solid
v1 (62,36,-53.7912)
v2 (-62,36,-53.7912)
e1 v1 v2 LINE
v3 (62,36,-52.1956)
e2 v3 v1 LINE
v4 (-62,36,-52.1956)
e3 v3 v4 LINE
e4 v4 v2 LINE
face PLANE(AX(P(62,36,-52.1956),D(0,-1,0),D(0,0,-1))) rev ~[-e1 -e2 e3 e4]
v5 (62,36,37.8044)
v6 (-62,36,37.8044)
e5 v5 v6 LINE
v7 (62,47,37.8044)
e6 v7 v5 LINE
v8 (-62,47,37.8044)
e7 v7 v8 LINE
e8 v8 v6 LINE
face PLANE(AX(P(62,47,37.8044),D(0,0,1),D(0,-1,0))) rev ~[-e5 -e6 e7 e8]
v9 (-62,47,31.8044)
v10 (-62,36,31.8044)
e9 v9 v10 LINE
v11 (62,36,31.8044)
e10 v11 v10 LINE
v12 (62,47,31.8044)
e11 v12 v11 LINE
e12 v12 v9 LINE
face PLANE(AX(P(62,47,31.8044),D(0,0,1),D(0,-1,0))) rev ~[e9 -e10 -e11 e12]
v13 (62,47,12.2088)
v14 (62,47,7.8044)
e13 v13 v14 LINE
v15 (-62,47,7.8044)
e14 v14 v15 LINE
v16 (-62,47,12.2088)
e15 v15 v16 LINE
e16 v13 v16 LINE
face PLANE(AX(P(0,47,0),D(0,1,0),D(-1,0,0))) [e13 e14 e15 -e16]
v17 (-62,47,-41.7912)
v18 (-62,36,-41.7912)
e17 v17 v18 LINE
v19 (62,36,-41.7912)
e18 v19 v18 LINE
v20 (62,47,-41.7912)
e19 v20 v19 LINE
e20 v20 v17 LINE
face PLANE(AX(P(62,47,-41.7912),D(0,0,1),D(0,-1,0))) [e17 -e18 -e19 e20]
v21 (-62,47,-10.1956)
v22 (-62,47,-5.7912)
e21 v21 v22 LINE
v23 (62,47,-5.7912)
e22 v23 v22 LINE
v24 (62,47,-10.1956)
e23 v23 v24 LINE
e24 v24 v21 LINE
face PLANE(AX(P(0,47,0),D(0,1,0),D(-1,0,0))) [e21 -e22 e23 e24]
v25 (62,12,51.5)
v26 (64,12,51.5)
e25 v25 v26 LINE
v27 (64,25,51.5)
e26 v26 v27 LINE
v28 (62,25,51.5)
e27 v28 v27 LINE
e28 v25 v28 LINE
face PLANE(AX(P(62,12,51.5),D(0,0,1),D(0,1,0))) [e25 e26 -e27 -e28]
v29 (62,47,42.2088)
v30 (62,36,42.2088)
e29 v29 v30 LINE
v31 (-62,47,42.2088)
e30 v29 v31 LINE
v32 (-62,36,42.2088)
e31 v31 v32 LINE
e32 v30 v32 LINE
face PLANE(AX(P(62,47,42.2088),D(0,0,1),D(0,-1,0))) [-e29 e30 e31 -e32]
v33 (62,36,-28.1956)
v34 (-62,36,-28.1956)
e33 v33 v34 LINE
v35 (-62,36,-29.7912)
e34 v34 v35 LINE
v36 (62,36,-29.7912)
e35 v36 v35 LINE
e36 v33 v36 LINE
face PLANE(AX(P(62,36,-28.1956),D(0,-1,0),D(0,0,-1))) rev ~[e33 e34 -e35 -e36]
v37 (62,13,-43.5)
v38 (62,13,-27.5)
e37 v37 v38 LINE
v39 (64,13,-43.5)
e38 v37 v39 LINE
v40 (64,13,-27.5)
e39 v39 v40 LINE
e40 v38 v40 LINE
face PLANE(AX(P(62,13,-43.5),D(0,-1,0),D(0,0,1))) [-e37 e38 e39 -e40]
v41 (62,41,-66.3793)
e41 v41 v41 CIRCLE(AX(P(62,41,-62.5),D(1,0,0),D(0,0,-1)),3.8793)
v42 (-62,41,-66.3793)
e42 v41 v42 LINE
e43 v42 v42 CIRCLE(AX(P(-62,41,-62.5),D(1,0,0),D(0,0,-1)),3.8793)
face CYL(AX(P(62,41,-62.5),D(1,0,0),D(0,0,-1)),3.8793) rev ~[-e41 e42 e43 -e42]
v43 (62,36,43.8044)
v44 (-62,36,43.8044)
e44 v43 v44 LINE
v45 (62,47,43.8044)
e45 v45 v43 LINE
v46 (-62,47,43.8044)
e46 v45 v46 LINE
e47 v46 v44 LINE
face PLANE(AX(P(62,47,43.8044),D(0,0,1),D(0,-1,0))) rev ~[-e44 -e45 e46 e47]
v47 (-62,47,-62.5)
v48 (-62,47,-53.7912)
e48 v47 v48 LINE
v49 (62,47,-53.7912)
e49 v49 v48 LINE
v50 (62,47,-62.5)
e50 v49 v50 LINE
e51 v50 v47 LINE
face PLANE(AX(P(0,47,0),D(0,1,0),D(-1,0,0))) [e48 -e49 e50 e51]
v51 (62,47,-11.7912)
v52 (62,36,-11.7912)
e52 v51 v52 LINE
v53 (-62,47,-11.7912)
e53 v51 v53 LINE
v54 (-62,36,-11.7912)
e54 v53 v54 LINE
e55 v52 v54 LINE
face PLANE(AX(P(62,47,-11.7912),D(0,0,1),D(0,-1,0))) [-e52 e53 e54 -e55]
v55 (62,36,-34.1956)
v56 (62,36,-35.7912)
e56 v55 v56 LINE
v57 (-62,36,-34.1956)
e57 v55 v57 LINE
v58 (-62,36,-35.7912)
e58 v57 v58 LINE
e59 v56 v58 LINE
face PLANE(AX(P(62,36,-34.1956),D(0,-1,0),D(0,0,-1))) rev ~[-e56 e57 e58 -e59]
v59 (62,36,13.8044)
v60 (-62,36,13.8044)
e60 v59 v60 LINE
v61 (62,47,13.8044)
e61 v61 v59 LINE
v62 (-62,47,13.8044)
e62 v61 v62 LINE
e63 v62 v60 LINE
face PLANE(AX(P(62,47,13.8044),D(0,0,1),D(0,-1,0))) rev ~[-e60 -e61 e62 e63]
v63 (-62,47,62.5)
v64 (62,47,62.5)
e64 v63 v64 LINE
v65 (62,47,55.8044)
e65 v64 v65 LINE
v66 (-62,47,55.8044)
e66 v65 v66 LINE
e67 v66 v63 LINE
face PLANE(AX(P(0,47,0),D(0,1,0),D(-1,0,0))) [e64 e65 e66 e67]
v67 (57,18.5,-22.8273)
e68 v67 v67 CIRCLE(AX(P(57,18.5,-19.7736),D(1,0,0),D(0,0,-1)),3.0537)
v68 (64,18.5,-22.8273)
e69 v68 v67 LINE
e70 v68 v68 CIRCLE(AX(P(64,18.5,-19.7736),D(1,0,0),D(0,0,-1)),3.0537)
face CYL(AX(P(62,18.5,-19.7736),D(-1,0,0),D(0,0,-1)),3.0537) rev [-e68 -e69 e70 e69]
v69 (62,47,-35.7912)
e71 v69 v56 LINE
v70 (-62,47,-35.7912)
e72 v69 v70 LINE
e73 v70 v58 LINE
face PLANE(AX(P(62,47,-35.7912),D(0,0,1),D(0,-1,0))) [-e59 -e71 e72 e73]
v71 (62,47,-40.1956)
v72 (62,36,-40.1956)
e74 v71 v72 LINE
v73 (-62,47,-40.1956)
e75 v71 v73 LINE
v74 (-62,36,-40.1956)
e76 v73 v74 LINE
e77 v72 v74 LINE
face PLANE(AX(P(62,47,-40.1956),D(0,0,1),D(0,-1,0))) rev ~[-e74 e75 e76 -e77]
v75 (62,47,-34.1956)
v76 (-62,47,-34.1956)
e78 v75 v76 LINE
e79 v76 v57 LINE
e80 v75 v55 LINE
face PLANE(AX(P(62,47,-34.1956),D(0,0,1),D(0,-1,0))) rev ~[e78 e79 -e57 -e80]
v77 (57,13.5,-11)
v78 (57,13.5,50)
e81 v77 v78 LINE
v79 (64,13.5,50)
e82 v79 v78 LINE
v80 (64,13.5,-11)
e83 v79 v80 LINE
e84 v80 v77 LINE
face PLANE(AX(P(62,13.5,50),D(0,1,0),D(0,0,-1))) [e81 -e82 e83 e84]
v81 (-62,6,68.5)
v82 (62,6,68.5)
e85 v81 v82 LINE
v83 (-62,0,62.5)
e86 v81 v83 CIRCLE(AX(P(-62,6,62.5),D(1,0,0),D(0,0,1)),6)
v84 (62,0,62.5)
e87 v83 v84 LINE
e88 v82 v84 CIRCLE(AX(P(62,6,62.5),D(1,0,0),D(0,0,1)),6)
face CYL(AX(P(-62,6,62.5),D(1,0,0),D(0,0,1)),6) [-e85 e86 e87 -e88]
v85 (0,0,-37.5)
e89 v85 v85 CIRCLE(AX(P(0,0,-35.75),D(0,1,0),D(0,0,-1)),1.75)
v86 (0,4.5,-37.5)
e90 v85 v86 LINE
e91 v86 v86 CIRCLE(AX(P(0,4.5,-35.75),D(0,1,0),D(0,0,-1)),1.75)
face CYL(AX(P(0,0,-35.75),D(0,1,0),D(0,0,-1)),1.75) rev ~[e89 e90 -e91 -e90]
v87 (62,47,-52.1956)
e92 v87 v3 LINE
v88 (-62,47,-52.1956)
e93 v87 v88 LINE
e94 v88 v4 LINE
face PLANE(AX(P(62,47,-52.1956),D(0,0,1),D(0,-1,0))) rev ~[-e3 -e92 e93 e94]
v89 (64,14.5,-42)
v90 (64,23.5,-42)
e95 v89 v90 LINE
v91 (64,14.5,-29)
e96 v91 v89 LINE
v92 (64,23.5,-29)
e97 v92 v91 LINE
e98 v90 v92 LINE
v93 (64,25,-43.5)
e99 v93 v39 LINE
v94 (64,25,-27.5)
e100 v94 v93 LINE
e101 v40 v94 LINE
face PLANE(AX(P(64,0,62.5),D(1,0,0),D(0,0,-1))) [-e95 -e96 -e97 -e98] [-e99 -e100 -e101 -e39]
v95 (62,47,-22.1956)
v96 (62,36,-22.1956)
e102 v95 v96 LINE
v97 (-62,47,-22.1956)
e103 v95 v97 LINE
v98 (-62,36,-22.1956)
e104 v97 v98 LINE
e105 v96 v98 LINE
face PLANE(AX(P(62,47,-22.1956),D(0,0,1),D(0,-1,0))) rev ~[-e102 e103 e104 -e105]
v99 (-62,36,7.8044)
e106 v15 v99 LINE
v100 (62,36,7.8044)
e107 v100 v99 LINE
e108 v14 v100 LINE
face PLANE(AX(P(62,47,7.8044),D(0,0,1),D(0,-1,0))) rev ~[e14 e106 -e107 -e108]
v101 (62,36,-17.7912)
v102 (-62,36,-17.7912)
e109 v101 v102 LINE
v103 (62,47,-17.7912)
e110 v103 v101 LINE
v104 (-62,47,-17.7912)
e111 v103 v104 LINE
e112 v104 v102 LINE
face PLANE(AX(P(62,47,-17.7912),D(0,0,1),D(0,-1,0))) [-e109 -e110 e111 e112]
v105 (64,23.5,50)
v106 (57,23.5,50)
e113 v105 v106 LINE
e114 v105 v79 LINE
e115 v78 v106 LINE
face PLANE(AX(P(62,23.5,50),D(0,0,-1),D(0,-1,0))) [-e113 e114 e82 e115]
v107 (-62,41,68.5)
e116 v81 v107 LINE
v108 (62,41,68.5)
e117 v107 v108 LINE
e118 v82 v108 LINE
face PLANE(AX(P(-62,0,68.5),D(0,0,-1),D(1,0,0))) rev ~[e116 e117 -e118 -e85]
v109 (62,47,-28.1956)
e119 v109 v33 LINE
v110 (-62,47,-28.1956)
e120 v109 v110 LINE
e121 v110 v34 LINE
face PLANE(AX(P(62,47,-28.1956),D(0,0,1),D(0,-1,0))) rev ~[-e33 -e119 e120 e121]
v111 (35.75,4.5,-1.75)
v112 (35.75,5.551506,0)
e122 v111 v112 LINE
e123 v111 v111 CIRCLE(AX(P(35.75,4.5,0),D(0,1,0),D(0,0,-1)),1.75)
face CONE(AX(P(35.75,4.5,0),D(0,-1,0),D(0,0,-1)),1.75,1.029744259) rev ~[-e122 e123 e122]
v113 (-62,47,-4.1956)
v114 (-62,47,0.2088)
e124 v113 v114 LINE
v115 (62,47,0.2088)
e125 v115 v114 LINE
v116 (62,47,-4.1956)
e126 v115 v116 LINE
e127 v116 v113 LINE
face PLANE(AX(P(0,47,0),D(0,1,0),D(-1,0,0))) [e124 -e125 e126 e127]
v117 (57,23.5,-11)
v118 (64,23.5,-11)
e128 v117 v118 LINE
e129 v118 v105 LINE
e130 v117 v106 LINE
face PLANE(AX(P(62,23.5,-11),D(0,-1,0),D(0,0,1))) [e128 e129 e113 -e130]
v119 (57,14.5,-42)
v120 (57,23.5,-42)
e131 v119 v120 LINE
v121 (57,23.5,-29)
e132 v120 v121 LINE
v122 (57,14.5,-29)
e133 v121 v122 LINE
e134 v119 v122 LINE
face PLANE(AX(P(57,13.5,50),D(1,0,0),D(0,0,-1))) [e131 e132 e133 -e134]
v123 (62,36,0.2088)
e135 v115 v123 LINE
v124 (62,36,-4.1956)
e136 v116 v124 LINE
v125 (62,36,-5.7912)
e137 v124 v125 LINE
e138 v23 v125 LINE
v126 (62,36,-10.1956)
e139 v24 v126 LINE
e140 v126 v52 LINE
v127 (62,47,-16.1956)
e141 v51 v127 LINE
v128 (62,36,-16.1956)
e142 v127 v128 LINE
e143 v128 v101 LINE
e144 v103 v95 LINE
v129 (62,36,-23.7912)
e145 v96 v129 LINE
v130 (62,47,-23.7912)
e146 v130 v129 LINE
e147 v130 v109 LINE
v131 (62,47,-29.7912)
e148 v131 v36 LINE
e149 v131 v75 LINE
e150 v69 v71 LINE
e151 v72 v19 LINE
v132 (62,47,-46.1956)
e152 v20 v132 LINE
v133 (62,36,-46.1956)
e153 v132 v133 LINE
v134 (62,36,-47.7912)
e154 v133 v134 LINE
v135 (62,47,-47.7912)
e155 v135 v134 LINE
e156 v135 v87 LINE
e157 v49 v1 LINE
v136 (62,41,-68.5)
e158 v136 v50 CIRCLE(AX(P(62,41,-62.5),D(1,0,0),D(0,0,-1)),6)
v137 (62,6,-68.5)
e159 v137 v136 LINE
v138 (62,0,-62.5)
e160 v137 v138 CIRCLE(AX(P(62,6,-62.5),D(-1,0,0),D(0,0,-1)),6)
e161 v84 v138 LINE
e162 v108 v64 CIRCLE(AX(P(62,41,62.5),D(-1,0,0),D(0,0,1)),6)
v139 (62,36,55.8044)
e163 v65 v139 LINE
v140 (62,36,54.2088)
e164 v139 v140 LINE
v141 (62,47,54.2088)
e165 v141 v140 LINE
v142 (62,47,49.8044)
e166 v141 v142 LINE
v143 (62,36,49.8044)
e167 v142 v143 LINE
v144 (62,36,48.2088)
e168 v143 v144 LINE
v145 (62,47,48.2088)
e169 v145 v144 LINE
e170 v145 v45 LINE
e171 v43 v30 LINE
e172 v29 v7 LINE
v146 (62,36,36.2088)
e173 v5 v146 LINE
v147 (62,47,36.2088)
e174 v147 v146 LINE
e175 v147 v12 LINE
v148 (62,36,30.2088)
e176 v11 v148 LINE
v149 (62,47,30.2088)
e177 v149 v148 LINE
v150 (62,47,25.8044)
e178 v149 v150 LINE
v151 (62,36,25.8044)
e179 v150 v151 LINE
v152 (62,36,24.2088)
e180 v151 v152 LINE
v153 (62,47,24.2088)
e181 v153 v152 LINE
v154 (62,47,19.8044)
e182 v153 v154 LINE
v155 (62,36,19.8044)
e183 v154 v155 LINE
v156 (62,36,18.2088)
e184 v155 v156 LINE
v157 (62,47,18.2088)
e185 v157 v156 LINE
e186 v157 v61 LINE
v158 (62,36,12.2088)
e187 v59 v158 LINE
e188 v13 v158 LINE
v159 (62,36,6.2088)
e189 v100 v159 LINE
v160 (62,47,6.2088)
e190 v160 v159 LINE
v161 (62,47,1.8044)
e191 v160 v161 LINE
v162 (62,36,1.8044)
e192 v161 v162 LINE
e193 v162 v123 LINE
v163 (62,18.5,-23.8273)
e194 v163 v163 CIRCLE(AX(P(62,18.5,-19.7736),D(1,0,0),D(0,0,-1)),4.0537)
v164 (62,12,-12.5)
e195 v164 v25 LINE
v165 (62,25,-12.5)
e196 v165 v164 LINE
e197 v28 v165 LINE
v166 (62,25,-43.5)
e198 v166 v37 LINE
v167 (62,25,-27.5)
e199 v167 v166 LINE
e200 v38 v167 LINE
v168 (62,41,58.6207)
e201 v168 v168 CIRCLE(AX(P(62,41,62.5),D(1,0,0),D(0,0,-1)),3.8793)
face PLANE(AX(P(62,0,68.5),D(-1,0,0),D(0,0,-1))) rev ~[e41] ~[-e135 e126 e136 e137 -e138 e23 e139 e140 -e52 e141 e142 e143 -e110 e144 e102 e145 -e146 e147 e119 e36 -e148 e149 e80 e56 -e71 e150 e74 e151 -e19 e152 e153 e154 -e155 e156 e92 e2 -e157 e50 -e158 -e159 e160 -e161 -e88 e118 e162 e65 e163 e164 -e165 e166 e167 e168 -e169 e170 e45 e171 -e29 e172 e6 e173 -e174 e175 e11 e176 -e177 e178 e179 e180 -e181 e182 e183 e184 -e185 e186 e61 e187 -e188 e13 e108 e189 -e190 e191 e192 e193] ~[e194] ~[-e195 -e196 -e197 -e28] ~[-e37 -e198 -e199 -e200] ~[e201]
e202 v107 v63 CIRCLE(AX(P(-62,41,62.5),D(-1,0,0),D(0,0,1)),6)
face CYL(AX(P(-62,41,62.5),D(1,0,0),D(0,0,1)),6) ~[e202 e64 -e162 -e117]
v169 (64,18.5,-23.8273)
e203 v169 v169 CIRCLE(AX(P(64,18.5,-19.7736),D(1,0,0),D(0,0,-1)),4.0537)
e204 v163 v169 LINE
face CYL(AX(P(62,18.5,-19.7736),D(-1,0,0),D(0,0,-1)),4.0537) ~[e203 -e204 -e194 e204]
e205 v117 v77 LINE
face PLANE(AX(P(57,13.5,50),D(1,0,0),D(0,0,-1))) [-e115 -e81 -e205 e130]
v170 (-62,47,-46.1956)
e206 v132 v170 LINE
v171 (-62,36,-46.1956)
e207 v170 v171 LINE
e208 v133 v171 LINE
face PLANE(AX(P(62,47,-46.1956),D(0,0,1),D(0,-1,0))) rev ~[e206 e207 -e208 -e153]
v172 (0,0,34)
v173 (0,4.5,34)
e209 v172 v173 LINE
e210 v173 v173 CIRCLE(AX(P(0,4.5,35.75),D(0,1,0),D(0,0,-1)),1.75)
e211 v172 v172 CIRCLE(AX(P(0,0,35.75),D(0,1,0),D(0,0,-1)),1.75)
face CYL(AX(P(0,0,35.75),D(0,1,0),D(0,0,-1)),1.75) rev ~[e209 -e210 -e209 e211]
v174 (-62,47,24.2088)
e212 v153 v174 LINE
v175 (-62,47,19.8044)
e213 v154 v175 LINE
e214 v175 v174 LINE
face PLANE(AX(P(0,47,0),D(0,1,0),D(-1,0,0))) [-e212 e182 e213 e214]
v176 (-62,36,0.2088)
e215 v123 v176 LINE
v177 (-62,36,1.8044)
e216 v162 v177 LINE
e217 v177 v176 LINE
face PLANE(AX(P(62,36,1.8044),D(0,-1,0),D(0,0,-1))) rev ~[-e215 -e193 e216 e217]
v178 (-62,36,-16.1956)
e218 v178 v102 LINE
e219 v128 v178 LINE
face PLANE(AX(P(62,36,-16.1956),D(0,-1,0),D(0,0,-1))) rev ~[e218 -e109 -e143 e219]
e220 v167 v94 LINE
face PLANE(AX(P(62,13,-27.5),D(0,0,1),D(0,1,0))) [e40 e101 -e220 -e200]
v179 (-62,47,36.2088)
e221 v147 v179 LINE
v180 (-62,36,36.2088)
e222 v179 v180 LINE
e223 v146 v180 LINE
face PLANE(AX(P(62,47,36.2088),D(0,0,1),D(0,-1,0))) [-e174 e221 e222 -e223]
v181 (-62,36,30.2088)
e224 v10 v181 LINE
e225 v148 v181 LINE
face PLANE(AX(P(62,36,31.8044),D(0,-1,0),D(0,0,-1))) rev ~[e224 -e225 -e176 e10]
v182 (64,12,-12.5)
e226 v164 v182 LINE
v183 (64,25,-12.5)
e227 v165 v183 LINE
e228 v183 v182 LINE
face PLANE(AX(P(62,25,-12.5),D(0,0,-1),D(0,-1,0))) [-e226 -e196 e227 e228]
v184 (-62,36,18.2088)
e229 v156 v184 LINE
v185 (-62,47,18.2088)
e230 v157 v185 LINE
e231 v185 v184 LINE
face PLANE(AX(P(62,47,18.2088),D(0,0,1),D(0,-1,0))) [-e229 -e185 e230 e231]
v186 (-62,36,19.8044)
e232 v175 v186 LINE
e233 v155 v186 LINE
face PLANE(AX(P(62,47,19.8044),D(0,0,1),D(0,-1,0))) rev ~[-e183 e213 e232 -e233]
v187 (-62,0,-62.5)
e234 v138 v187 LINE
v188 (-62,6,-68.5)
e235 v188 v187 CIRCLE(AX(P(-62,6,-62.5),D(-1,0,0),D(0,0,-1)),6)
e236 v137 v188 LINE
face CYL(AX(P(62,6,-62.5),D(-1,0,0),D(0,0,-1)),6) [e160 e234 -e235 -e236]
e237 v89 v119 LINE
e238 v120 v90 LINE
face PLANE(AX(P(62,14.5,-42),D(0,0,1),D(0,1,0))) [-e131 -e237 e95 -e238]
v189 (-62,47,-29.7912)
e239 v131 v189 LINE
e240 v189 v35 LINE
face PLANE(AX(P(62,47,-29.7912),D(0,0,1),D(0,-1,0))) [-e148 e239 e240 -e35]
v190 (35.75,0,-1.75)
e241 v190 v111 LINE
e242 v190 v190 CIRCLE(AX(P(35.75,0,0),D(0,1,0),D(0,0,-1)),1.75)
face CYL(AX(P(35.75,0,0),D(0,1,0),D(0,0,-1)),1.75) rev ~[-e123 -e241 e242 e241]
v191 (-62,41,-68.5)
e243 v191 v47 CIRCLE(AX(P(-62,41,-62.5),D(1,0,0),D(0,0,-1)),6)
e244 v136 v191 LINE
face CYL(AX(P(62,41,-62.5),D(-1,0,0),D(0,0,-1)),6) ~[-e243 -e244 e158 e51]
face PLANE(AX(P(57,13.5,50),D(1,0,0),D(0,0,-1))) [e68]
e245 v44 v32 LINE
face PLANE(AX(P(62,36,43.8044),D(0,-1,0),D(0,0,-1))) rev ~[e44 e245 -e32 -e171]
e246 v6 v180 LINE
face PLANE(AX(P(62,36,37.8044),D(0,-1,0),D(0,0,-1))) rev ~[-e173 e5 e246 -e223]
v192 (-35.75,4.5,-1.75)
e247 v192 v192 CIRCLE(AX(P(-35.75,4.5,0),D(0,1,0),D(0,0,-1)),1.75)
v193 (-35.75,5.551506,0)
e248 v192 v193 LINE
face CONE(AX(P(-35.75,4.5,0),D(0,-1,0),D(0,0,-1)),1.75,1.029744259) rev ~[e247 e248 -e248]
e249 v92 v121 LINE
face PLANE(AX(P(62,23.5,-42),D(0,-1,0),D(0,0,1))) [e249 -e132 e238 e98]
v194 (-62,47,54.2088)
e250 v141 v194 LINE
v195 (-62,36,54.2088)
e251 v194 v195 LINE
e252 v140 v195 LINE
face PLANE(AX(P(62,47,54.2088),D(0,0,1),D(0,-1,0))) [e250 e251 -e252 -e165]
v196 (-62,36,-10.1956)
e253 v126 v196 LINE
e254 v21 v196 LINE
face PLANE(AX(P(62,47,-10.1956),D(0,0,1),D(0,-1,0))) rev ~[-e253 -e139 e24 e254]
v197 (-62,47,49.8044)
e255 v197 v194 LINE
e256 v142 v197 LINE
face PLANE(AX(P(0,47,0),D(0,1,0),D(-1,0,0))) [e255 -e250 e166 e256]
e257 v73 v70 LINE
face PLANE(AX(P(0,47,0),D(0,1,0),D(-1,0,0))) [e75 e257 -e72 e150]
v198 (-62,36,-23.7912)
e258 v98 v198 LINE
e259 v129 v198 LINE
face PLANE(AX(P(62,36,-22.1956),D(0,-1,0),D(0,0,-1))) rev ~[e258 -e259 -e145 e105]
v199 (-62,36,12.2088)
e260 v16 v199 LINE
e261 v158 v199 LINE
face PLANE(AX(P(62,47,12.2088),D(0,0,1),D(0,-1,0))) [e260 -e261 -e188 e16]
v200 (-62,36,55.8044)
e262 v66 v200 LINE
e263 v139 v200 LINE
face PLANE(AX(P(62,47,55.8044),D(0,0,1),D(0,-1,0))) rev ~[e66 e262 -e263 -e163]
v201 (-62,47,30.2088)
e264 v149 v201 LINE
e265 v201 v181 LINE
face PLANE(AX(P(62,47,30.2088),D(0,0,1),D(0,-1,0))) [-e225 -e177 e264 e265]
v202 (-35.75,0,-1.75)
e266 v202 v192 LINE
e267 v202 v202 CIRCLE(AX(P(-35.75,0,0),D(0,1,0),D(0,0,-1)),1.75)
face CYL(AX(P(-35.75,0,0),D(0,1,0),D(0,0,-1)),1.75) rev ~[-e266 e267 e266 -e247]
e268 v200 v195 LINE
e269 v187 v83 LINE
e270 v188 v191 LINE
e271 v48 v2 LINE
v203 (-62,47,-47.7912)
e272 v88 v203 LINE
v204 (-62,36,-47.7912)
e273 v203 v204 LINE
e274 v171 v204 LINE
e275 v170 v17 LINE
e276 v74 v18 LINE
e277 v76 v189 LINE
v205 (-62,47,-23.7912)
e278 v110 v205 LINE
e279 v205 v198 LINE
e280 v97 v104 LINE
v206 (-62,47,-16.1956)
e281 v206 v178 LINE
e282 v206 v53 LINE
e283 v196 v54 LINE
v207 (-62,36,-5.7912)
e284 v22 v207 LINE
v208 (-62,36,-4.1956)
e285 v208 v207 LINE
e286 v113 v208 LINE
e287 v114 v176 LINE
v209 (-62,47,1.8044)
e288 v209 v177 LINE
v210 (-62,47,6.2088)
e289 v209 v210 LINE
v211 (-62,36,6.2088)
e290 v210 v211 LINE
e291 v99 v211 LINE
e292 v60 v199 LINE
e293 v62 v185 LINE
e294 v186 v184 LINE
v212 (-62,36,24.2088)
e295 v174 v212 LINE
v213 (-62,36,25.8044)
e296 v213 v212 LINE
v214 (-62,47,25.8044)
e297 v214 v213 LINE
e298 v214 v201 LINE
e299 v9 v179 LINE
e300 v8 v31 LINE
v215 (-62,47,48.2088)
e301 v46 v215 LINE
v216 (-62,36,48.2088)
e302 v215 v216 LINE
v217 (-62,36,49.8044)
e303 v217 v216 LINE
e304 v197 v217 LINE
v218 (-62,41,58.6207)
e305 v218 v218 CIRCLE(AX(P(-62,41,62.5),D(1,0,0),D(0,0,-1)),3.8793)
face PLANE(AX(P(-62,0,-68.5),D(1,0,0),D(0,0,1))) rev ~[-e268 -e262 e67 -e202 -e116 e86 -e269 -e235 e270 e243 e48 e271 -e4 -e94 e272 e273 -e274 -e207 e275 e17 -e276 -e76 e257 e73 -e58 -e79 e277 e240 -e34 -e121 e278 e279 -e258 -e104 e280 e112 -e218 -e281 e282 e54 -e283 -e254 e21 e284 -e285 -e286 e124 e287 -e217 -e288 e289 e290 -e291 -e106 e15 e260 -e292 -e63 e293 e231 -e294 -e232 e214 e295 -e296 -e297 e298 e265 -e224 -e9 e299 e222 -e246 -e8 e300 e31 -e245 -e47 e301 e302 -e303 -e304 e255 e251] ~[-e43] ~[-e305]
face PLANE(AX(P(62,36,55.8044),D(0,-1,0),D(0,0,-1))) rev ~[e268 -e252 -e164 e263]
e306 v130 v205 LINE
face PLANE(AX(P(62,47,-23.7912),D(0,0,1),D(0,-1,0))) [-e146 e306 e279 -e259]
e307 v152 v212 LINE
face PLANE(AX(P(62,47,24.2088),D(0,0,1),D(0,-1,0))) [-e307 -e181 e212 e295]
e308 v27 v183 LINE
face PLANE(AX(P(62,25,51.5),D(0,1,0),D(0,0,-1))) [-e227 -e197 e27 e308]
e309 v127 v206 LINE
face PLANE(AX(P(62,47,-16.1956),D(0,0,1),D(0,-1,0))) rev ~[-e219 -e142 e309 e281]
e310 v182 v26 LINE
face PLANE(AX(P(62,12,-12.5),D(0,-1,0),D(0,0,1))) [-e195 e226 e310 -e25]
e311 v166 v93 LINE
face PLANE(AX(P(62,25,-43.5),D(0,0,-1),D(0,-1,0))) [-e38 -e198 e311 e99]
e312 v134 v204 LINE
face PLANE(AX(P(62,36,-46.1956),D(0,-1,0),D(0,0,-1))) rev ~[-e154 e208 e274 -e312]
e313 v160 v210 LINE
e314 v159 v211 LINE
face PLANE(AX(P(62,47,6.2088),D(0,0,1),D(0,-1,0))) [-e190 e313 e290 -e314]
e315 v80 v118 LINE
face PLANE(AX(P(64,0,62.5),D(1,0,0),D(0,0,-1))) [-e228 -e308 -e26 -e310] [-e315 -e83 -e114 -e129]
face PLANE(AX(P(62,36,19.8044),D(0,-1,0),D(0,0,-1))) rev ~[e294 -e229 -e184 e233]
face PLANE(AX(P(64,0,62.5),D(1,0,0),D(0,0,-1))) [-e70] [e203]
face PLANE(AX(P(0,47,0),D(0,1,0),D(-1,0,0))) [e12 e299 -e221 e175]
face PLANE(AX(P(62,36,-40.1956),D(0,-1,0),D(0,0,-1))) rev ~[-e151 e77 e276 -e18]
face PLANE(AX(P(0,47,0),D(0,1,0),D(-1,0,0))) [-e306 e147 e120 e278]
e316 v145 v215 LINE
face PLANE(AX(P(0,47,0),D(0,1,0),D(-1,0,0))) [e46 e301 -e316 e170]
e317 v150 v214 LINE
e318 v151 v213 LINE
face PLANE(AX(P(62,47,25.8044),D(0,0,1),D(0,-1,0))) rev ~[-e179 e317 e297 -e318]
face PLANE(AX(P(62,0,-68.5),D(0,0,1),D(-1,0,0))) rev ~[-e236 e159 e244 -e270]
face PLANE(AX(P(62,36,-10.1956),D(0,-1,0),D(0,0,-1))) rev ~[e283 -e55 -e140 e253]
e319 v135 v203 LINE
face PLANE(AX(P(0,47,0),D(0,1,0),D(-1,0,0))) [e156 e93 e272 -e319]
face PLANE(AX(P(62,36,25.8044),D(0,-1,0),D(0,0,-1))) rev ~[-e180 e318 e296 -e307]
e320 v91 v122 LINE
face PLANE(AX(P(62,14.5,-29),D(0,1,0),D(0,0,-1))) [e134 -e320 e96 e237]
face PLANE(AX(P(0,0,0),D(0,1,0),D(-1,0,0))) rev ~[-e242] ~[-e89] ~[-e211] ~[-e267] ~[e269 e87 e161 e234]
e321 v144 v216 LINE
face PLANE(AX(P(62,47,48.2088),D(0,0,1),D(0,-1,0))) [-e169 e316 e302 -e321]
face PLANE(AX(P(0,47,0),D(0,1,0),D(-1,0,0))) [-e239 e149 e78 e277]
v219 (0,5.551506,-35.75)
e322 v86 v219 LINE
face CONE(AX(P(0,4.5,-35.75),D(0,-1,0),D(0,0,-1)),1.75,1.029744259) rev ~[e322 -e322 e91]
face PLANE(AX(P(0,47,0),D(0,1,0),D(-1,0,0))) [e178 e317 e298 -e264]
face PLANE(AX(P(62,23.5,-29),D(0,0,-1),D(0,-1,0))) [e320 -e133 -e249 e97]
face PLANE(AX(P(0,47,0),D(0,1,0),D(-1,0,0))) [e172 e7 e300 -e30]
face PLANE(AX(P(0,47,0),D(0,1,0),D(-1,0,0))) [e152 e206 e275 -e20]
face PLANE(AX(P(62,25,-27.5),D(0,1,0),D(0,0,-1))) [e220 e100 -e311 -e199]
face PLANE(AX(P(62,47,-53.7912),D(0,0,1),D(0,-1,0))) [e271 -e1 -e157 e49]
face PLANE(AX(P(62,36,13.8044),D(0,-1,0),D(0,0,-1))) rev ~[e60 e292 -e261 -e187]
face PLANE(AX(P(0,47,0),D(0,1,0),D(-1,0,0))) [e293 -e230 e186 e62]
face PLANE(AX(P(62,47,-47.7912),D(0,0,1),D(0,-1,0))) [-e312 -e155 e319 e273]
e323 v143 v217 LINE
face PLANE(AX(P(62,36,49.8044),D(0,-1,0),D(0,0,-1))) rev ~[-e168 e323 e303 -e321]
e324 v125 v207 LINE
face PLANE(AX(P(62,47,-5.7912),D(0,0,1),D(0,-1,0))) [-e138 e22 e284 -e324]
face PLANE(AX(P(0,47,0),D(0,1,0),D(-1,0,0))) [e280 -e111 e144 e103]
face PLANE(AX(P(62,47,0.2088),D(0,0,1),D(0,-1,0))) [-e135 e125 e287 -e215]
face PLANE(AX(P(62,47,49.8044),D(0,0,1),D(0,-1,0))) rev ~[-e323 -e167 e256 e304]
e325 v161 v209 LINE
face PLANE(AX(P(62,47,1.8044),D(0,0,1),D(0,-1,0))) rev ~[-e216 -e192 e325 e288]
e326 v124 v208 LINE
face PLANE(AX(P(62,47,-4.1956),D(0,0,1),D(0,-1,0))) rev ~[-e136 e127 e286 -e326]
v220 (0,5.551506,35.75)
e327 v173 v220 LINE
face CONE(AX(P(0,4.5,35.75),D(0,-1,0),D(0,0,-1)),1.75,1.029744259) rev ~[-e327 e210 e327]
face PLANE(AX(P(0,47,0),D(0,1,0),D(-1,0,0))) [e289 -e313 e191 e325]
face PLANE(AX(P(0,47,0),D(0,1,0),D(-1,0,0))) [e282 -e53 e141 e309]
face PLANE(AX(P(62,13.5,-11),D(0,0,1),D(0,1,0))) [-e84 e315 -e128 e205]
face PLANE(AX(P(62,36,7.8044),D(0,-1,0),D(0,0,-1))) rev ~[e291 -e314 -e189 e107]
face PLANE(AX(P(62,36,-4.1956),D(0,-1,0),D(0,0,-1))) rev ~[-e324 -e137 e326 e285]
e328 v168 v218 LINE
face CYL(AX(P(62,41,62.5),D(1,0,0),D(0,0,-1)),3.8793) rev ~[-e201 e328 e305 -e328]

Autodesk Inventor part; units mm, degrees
ref_plane "YZ Plane" through (0, 0, 0) normal (1, 0, 0) x (0, 1, 0)
ref_plane "XZ Plane" through (0, 0, 0) normal (0, 1, 0) x (-1, 0, 0)
ref_plane "XY Plane" through (0, 0, 0) normal (0, 0, 1) x (1, 0, 0)
sketch "Sketch1" plane through (0, 0, 0) normal (0, 1, 0) x (-1, 0, 0)
  line L0 (62, 68.5) -> (-62, 68.5)
  line L1 (-62, 68.5) -> (-62, -68.5)
  line L2 (-62, -68.5) -> (62, -68.5)
  line L3 (62, -68.5) -> (62, 68.5)
  point P0 (0, 0)
  point P1 (0, 68.5)
  point P2 (-62, 0)
  dimension "d0" = 137
  dimension "d1" = 124
extrude "Extrusion1" add sketch "Sketch1" along normal blind 47
fillet "Fillet1" radius 6 4 edges at (0, 47, 68.5) (0, 47, -68.5) (0, 0, -68.5) (0, 0, 68.5)
sketch "Sketch2" plane through (0, 0, 0) normal (0, -1, 0) x (1, 0, 0)
  line L0 (35.75, 0) -> (-35.75, 0) construction
  line L1 (0, 35.75) -> (0, -35.75) construction
  point P0 (0, 0)
  point P1 (0, 0)
  dimension "d5" = 71.5
  dimension "d6" = 71.5
hole "Hole1" at (-35.75, 0, 0) at (0, 0, 35.75) at (0, 0, -35.75) at (35.75, 0, 0) direction (0, 1, 0) diameter 3.5 depth 4.5 tip angle 118
sketch "Sketch3" plane through (62, 0, 62.5) normal (1, 0, 0) x (0, 0, -1)
  line L0 (11, 25) -> (75, 25)
  line L1 (75, 25) -> (75, 12)
  line L2 (75, 12) -> (11, 12)
  line L3 (11, 12) -> (11, 25)
  line L4 (0, 0) -> (125, 0) projected
  line L5 (-6, 6) -> (-6, 41) projected
  line L6 (131, 6) -> (131, 41) projected
  circle A0 centre (82.2736, 18.5) radius 4.0537
  line L7 (90, 25) -> (106, 25)
  line L8 (106, 25) -> (106, 13)
  line L9 (106, 13) -> (90, 13)
  line L10 (90, 13) -> (90, 25)
  line L11 (104.5, 23.5) -> (91.5, 23.5)
  line L12 (91.5, 23.5) -> (91.5, 14.5)
  line L13 (91.5, 14.5) -> (104.5, 14.5)
  line L14 (104.5, 14.5) -> (104.5, 23.5)
  line L15 (73.5, 23.5) -> (12.5, 23.5)
  line L16 (12.5, 23.5) -> (12.5, 13.5)
  line L17 (12.5, 13.5) -> (73.5, 13.5)
  line L18 (73.5, 13.5) -> (73.5, 23.5)
  circle A1 centre (82.2736, 18.5) radius 3.0537
  point P0 (62.5, 0)
  point P1 (98, 25)
  point P2 (43, 25)
  point P3 (90, 19)
  dimension "d14" = 12
  dimension "d15" = 17
  dimension "d16" = 64
  dimension "d17" = 13
  dimension "d19" = 12
  dimension "d20" = 16
  dimension "d21" = 25
  dimension "d25" = 1.5
  dimension "d26" = 1.5
  dimension "d27" = 1
extrude "Extrusion2" add sketch "Sketch3" along normal blind 2
sketch "Sketch4" plane through (62, 13.5, 50) normal (1, 0, 0) x (0, 0, -1)
  line L0 (61, 10) -> (0, 10) projected
  line L1 (61, 0) -> (0, 0) projected
  line L2 (0, 10) -> (61, 10)
  line L3 (61, 10) -> (61, 0)
  line L4 (61, 0) -> (0, 0)
  line L5 (0, 0) -> (0, 10)
  circle A0 centre (69.7736, 5) radius 3.0537 projected
  circle A1 centre (69.7736, 5) radius 3.0537
  line L6 (92, 1) -> (79, 1) projected
  line L7 (79, 1) -> (92, 1)
  line L8 (92, 1) -> (92, 10)
  line L9 (92, 10) -> (79, 10)
  line L10 (79, 10) -> (79, 1)
  point P0 (50, -13.5)
extrude "Extrusion3" cut sketch "Sketch4" against normal blind 5
sketch "Sketch5" plane through (62, 0, 62.5) normal (1, 0, 0) x (0, 0, -1)
  line L0 (-6, 6) -> (-6, 41) projected
  line L1 (-6, 36) -> (131, 36)
  line L2 (131, 6) -> (131, 41) projected
  line L3 (0, 0) -> (125, 0) projected
  arc A0 (0, 47) -> (-6, 41) centre (0, 41) ccw projected
  circle A1 centre (0, 41) radius 3.8793
  line L4 (125, 47) -> (0, 47) projected
  line L5 (6.6956, 47) -> (6.6956, 36)
  line L6 (8.2912, 47) -> (8.2912, 36)
  line L7 (0, 36) -> (137, 36)
  line L8 (12.6956, 47) -> (12.6956, 36)
  line L9 (14.2912, 47) -> (14.2912, 36)
  line L10 (6, 36) -> (143, 36)
  line L11 (18.6956, 47) -> (18.6956, 36)
  line L12 (20.2912, 47) -> (20.2912, 36)
  line L13 (12, 36) -> (149, 36)
  line L14 (24.6956, 47) -> (24.6956, 36)
  line L15 (26.2912, 47) -> (26.2912, 36)
  line L16 (18, 36) -> (155, 36)
  line L17 (30.6956, 47) -> (30.6956, 36)
  line L18 (32.2912, 47) -> (32.2912, 36)
  line L19 (24, 36) -> (161, 36)
  line L20 (36.6956, 47) -> (36.6956, 36)
  line L21 (38.2912, 47) -> (38.2912, 36)
  line L22 (30, 36) -> (167, 36)
  line L23 (42.6956, 47) -> (42.6956, 36)
  line L24 (44.2912, 47) -> (44.2912, 36)
  line L25 (36, 36) -> (173, 36)
  line L26 (48.6956, 47) -> (48.6956, 36)
  line L27 (50.2912, 47) -> (50.2912, 36)
  line L28 (42, 36) -> (179, 36)
  line L29 (54.6956, 47) -> (54.6956, 36)
  line L30 (56.2912, 47) -> (56.2912, 36)
  line L31 (48, 36) -> (185, 36)
  line L32 (60.6956, 47) -> (60.6956, 36)
  line L33 (62.2912, 47) -> (62.2912, 36)
  line L34 (54, 36) -> (191, 36)
  line L35 (66.6956, 47) -> (66.6956, 36)
  line L36 (68.2912, 47) -> (68.2912, 36)
  line L37 (60, 36) -> (197, 36)
  line L38 (72.6956, 47) -> (72.6956, 36)
  line L39 (74.2912, 47) -> (74.2912, 36)
  line L40 (66, 36) -> (203, 36)
  line L41 (78.6956, 47) -> (78.6956, 36)
  line L42 (80.2912, 47) -> (80.2912, 36)
  line L43 (72, 36) -> (209, 36)
  line L44 (84.6956, 47) -> (84.6956, 36)
  line L45 (86.2912, 47) -> (86.2912, 36)
  line L46 (78, 36) -> (215, 36)
  line L47 (90.6956, 47) -> (90.6956, 36)
  line L48 (92.2912, 47) -> (92.2912, 36)
  line L49 (84, 36) -> (221, 36)
  line L50 (96.6956, 47) -> (96.6956, 36)
  line L51 (98.2912, 47) -> (98.2912, 36)
  line L52 (90, 36) -> (227, 36)
  line L53 (102.6956, 47) -> (102.6956, 36)
  line L54 (104.2912, 47) -> (104.2912, 36)
  line L55 (96, 36) -> (233, 36)
  line L56 (108.6956, 47) -> (108.6956, 36)
  line L57 (110.2912, 47) -> (110.2912, 36)
  line L58 (102, 36) -> (239, 36)
  line L59 (114.6956, 47) -> (114.6956, 36)
  line L60 (116.2912, 47) -> (116.2912, 36)
  arc A2 (131, 41) -> (125, 47) centre (125, 41) ccw projected
  circle A3 centre (125, 41) radius 3.8793
  point P0 (62.5, 0)
  point P1 (14.2912, 36)
  point P2 (14.2912, 47)
  point P3 (12.6956, 47)
  point P4 (12.6956, 36)
  dimension "d32" = 36
  dimension "d35" = 6
extrude "Extrusion4" cut sketch "Sketch5" against normal through all contours L4 L6 L1 L5 | L4 L9 L1 L8 | L4 L12 L1 L11 | L4 L15 L1 L14 | L4 L18 L1 L17 | L4 L21 L1 L20 | L4 L24 L1 L23 | L4 L27 L1 L26 | L4 L30 L1 L29 | L4 L33 L1 L32 | L4 L36 L1 L35 | L4 L39 L1 L38 | L4 L42 L1 L41 | L4 L45 L1 L44 | L4 L48 L1 L47 | L4 L51 L1 L50 | L4 L54 L1 L53 | L4 L57 L1 L56 | L4 L60 L1 L59 | A1 | A3
properties part number "home_lab_router_simplified_model"
